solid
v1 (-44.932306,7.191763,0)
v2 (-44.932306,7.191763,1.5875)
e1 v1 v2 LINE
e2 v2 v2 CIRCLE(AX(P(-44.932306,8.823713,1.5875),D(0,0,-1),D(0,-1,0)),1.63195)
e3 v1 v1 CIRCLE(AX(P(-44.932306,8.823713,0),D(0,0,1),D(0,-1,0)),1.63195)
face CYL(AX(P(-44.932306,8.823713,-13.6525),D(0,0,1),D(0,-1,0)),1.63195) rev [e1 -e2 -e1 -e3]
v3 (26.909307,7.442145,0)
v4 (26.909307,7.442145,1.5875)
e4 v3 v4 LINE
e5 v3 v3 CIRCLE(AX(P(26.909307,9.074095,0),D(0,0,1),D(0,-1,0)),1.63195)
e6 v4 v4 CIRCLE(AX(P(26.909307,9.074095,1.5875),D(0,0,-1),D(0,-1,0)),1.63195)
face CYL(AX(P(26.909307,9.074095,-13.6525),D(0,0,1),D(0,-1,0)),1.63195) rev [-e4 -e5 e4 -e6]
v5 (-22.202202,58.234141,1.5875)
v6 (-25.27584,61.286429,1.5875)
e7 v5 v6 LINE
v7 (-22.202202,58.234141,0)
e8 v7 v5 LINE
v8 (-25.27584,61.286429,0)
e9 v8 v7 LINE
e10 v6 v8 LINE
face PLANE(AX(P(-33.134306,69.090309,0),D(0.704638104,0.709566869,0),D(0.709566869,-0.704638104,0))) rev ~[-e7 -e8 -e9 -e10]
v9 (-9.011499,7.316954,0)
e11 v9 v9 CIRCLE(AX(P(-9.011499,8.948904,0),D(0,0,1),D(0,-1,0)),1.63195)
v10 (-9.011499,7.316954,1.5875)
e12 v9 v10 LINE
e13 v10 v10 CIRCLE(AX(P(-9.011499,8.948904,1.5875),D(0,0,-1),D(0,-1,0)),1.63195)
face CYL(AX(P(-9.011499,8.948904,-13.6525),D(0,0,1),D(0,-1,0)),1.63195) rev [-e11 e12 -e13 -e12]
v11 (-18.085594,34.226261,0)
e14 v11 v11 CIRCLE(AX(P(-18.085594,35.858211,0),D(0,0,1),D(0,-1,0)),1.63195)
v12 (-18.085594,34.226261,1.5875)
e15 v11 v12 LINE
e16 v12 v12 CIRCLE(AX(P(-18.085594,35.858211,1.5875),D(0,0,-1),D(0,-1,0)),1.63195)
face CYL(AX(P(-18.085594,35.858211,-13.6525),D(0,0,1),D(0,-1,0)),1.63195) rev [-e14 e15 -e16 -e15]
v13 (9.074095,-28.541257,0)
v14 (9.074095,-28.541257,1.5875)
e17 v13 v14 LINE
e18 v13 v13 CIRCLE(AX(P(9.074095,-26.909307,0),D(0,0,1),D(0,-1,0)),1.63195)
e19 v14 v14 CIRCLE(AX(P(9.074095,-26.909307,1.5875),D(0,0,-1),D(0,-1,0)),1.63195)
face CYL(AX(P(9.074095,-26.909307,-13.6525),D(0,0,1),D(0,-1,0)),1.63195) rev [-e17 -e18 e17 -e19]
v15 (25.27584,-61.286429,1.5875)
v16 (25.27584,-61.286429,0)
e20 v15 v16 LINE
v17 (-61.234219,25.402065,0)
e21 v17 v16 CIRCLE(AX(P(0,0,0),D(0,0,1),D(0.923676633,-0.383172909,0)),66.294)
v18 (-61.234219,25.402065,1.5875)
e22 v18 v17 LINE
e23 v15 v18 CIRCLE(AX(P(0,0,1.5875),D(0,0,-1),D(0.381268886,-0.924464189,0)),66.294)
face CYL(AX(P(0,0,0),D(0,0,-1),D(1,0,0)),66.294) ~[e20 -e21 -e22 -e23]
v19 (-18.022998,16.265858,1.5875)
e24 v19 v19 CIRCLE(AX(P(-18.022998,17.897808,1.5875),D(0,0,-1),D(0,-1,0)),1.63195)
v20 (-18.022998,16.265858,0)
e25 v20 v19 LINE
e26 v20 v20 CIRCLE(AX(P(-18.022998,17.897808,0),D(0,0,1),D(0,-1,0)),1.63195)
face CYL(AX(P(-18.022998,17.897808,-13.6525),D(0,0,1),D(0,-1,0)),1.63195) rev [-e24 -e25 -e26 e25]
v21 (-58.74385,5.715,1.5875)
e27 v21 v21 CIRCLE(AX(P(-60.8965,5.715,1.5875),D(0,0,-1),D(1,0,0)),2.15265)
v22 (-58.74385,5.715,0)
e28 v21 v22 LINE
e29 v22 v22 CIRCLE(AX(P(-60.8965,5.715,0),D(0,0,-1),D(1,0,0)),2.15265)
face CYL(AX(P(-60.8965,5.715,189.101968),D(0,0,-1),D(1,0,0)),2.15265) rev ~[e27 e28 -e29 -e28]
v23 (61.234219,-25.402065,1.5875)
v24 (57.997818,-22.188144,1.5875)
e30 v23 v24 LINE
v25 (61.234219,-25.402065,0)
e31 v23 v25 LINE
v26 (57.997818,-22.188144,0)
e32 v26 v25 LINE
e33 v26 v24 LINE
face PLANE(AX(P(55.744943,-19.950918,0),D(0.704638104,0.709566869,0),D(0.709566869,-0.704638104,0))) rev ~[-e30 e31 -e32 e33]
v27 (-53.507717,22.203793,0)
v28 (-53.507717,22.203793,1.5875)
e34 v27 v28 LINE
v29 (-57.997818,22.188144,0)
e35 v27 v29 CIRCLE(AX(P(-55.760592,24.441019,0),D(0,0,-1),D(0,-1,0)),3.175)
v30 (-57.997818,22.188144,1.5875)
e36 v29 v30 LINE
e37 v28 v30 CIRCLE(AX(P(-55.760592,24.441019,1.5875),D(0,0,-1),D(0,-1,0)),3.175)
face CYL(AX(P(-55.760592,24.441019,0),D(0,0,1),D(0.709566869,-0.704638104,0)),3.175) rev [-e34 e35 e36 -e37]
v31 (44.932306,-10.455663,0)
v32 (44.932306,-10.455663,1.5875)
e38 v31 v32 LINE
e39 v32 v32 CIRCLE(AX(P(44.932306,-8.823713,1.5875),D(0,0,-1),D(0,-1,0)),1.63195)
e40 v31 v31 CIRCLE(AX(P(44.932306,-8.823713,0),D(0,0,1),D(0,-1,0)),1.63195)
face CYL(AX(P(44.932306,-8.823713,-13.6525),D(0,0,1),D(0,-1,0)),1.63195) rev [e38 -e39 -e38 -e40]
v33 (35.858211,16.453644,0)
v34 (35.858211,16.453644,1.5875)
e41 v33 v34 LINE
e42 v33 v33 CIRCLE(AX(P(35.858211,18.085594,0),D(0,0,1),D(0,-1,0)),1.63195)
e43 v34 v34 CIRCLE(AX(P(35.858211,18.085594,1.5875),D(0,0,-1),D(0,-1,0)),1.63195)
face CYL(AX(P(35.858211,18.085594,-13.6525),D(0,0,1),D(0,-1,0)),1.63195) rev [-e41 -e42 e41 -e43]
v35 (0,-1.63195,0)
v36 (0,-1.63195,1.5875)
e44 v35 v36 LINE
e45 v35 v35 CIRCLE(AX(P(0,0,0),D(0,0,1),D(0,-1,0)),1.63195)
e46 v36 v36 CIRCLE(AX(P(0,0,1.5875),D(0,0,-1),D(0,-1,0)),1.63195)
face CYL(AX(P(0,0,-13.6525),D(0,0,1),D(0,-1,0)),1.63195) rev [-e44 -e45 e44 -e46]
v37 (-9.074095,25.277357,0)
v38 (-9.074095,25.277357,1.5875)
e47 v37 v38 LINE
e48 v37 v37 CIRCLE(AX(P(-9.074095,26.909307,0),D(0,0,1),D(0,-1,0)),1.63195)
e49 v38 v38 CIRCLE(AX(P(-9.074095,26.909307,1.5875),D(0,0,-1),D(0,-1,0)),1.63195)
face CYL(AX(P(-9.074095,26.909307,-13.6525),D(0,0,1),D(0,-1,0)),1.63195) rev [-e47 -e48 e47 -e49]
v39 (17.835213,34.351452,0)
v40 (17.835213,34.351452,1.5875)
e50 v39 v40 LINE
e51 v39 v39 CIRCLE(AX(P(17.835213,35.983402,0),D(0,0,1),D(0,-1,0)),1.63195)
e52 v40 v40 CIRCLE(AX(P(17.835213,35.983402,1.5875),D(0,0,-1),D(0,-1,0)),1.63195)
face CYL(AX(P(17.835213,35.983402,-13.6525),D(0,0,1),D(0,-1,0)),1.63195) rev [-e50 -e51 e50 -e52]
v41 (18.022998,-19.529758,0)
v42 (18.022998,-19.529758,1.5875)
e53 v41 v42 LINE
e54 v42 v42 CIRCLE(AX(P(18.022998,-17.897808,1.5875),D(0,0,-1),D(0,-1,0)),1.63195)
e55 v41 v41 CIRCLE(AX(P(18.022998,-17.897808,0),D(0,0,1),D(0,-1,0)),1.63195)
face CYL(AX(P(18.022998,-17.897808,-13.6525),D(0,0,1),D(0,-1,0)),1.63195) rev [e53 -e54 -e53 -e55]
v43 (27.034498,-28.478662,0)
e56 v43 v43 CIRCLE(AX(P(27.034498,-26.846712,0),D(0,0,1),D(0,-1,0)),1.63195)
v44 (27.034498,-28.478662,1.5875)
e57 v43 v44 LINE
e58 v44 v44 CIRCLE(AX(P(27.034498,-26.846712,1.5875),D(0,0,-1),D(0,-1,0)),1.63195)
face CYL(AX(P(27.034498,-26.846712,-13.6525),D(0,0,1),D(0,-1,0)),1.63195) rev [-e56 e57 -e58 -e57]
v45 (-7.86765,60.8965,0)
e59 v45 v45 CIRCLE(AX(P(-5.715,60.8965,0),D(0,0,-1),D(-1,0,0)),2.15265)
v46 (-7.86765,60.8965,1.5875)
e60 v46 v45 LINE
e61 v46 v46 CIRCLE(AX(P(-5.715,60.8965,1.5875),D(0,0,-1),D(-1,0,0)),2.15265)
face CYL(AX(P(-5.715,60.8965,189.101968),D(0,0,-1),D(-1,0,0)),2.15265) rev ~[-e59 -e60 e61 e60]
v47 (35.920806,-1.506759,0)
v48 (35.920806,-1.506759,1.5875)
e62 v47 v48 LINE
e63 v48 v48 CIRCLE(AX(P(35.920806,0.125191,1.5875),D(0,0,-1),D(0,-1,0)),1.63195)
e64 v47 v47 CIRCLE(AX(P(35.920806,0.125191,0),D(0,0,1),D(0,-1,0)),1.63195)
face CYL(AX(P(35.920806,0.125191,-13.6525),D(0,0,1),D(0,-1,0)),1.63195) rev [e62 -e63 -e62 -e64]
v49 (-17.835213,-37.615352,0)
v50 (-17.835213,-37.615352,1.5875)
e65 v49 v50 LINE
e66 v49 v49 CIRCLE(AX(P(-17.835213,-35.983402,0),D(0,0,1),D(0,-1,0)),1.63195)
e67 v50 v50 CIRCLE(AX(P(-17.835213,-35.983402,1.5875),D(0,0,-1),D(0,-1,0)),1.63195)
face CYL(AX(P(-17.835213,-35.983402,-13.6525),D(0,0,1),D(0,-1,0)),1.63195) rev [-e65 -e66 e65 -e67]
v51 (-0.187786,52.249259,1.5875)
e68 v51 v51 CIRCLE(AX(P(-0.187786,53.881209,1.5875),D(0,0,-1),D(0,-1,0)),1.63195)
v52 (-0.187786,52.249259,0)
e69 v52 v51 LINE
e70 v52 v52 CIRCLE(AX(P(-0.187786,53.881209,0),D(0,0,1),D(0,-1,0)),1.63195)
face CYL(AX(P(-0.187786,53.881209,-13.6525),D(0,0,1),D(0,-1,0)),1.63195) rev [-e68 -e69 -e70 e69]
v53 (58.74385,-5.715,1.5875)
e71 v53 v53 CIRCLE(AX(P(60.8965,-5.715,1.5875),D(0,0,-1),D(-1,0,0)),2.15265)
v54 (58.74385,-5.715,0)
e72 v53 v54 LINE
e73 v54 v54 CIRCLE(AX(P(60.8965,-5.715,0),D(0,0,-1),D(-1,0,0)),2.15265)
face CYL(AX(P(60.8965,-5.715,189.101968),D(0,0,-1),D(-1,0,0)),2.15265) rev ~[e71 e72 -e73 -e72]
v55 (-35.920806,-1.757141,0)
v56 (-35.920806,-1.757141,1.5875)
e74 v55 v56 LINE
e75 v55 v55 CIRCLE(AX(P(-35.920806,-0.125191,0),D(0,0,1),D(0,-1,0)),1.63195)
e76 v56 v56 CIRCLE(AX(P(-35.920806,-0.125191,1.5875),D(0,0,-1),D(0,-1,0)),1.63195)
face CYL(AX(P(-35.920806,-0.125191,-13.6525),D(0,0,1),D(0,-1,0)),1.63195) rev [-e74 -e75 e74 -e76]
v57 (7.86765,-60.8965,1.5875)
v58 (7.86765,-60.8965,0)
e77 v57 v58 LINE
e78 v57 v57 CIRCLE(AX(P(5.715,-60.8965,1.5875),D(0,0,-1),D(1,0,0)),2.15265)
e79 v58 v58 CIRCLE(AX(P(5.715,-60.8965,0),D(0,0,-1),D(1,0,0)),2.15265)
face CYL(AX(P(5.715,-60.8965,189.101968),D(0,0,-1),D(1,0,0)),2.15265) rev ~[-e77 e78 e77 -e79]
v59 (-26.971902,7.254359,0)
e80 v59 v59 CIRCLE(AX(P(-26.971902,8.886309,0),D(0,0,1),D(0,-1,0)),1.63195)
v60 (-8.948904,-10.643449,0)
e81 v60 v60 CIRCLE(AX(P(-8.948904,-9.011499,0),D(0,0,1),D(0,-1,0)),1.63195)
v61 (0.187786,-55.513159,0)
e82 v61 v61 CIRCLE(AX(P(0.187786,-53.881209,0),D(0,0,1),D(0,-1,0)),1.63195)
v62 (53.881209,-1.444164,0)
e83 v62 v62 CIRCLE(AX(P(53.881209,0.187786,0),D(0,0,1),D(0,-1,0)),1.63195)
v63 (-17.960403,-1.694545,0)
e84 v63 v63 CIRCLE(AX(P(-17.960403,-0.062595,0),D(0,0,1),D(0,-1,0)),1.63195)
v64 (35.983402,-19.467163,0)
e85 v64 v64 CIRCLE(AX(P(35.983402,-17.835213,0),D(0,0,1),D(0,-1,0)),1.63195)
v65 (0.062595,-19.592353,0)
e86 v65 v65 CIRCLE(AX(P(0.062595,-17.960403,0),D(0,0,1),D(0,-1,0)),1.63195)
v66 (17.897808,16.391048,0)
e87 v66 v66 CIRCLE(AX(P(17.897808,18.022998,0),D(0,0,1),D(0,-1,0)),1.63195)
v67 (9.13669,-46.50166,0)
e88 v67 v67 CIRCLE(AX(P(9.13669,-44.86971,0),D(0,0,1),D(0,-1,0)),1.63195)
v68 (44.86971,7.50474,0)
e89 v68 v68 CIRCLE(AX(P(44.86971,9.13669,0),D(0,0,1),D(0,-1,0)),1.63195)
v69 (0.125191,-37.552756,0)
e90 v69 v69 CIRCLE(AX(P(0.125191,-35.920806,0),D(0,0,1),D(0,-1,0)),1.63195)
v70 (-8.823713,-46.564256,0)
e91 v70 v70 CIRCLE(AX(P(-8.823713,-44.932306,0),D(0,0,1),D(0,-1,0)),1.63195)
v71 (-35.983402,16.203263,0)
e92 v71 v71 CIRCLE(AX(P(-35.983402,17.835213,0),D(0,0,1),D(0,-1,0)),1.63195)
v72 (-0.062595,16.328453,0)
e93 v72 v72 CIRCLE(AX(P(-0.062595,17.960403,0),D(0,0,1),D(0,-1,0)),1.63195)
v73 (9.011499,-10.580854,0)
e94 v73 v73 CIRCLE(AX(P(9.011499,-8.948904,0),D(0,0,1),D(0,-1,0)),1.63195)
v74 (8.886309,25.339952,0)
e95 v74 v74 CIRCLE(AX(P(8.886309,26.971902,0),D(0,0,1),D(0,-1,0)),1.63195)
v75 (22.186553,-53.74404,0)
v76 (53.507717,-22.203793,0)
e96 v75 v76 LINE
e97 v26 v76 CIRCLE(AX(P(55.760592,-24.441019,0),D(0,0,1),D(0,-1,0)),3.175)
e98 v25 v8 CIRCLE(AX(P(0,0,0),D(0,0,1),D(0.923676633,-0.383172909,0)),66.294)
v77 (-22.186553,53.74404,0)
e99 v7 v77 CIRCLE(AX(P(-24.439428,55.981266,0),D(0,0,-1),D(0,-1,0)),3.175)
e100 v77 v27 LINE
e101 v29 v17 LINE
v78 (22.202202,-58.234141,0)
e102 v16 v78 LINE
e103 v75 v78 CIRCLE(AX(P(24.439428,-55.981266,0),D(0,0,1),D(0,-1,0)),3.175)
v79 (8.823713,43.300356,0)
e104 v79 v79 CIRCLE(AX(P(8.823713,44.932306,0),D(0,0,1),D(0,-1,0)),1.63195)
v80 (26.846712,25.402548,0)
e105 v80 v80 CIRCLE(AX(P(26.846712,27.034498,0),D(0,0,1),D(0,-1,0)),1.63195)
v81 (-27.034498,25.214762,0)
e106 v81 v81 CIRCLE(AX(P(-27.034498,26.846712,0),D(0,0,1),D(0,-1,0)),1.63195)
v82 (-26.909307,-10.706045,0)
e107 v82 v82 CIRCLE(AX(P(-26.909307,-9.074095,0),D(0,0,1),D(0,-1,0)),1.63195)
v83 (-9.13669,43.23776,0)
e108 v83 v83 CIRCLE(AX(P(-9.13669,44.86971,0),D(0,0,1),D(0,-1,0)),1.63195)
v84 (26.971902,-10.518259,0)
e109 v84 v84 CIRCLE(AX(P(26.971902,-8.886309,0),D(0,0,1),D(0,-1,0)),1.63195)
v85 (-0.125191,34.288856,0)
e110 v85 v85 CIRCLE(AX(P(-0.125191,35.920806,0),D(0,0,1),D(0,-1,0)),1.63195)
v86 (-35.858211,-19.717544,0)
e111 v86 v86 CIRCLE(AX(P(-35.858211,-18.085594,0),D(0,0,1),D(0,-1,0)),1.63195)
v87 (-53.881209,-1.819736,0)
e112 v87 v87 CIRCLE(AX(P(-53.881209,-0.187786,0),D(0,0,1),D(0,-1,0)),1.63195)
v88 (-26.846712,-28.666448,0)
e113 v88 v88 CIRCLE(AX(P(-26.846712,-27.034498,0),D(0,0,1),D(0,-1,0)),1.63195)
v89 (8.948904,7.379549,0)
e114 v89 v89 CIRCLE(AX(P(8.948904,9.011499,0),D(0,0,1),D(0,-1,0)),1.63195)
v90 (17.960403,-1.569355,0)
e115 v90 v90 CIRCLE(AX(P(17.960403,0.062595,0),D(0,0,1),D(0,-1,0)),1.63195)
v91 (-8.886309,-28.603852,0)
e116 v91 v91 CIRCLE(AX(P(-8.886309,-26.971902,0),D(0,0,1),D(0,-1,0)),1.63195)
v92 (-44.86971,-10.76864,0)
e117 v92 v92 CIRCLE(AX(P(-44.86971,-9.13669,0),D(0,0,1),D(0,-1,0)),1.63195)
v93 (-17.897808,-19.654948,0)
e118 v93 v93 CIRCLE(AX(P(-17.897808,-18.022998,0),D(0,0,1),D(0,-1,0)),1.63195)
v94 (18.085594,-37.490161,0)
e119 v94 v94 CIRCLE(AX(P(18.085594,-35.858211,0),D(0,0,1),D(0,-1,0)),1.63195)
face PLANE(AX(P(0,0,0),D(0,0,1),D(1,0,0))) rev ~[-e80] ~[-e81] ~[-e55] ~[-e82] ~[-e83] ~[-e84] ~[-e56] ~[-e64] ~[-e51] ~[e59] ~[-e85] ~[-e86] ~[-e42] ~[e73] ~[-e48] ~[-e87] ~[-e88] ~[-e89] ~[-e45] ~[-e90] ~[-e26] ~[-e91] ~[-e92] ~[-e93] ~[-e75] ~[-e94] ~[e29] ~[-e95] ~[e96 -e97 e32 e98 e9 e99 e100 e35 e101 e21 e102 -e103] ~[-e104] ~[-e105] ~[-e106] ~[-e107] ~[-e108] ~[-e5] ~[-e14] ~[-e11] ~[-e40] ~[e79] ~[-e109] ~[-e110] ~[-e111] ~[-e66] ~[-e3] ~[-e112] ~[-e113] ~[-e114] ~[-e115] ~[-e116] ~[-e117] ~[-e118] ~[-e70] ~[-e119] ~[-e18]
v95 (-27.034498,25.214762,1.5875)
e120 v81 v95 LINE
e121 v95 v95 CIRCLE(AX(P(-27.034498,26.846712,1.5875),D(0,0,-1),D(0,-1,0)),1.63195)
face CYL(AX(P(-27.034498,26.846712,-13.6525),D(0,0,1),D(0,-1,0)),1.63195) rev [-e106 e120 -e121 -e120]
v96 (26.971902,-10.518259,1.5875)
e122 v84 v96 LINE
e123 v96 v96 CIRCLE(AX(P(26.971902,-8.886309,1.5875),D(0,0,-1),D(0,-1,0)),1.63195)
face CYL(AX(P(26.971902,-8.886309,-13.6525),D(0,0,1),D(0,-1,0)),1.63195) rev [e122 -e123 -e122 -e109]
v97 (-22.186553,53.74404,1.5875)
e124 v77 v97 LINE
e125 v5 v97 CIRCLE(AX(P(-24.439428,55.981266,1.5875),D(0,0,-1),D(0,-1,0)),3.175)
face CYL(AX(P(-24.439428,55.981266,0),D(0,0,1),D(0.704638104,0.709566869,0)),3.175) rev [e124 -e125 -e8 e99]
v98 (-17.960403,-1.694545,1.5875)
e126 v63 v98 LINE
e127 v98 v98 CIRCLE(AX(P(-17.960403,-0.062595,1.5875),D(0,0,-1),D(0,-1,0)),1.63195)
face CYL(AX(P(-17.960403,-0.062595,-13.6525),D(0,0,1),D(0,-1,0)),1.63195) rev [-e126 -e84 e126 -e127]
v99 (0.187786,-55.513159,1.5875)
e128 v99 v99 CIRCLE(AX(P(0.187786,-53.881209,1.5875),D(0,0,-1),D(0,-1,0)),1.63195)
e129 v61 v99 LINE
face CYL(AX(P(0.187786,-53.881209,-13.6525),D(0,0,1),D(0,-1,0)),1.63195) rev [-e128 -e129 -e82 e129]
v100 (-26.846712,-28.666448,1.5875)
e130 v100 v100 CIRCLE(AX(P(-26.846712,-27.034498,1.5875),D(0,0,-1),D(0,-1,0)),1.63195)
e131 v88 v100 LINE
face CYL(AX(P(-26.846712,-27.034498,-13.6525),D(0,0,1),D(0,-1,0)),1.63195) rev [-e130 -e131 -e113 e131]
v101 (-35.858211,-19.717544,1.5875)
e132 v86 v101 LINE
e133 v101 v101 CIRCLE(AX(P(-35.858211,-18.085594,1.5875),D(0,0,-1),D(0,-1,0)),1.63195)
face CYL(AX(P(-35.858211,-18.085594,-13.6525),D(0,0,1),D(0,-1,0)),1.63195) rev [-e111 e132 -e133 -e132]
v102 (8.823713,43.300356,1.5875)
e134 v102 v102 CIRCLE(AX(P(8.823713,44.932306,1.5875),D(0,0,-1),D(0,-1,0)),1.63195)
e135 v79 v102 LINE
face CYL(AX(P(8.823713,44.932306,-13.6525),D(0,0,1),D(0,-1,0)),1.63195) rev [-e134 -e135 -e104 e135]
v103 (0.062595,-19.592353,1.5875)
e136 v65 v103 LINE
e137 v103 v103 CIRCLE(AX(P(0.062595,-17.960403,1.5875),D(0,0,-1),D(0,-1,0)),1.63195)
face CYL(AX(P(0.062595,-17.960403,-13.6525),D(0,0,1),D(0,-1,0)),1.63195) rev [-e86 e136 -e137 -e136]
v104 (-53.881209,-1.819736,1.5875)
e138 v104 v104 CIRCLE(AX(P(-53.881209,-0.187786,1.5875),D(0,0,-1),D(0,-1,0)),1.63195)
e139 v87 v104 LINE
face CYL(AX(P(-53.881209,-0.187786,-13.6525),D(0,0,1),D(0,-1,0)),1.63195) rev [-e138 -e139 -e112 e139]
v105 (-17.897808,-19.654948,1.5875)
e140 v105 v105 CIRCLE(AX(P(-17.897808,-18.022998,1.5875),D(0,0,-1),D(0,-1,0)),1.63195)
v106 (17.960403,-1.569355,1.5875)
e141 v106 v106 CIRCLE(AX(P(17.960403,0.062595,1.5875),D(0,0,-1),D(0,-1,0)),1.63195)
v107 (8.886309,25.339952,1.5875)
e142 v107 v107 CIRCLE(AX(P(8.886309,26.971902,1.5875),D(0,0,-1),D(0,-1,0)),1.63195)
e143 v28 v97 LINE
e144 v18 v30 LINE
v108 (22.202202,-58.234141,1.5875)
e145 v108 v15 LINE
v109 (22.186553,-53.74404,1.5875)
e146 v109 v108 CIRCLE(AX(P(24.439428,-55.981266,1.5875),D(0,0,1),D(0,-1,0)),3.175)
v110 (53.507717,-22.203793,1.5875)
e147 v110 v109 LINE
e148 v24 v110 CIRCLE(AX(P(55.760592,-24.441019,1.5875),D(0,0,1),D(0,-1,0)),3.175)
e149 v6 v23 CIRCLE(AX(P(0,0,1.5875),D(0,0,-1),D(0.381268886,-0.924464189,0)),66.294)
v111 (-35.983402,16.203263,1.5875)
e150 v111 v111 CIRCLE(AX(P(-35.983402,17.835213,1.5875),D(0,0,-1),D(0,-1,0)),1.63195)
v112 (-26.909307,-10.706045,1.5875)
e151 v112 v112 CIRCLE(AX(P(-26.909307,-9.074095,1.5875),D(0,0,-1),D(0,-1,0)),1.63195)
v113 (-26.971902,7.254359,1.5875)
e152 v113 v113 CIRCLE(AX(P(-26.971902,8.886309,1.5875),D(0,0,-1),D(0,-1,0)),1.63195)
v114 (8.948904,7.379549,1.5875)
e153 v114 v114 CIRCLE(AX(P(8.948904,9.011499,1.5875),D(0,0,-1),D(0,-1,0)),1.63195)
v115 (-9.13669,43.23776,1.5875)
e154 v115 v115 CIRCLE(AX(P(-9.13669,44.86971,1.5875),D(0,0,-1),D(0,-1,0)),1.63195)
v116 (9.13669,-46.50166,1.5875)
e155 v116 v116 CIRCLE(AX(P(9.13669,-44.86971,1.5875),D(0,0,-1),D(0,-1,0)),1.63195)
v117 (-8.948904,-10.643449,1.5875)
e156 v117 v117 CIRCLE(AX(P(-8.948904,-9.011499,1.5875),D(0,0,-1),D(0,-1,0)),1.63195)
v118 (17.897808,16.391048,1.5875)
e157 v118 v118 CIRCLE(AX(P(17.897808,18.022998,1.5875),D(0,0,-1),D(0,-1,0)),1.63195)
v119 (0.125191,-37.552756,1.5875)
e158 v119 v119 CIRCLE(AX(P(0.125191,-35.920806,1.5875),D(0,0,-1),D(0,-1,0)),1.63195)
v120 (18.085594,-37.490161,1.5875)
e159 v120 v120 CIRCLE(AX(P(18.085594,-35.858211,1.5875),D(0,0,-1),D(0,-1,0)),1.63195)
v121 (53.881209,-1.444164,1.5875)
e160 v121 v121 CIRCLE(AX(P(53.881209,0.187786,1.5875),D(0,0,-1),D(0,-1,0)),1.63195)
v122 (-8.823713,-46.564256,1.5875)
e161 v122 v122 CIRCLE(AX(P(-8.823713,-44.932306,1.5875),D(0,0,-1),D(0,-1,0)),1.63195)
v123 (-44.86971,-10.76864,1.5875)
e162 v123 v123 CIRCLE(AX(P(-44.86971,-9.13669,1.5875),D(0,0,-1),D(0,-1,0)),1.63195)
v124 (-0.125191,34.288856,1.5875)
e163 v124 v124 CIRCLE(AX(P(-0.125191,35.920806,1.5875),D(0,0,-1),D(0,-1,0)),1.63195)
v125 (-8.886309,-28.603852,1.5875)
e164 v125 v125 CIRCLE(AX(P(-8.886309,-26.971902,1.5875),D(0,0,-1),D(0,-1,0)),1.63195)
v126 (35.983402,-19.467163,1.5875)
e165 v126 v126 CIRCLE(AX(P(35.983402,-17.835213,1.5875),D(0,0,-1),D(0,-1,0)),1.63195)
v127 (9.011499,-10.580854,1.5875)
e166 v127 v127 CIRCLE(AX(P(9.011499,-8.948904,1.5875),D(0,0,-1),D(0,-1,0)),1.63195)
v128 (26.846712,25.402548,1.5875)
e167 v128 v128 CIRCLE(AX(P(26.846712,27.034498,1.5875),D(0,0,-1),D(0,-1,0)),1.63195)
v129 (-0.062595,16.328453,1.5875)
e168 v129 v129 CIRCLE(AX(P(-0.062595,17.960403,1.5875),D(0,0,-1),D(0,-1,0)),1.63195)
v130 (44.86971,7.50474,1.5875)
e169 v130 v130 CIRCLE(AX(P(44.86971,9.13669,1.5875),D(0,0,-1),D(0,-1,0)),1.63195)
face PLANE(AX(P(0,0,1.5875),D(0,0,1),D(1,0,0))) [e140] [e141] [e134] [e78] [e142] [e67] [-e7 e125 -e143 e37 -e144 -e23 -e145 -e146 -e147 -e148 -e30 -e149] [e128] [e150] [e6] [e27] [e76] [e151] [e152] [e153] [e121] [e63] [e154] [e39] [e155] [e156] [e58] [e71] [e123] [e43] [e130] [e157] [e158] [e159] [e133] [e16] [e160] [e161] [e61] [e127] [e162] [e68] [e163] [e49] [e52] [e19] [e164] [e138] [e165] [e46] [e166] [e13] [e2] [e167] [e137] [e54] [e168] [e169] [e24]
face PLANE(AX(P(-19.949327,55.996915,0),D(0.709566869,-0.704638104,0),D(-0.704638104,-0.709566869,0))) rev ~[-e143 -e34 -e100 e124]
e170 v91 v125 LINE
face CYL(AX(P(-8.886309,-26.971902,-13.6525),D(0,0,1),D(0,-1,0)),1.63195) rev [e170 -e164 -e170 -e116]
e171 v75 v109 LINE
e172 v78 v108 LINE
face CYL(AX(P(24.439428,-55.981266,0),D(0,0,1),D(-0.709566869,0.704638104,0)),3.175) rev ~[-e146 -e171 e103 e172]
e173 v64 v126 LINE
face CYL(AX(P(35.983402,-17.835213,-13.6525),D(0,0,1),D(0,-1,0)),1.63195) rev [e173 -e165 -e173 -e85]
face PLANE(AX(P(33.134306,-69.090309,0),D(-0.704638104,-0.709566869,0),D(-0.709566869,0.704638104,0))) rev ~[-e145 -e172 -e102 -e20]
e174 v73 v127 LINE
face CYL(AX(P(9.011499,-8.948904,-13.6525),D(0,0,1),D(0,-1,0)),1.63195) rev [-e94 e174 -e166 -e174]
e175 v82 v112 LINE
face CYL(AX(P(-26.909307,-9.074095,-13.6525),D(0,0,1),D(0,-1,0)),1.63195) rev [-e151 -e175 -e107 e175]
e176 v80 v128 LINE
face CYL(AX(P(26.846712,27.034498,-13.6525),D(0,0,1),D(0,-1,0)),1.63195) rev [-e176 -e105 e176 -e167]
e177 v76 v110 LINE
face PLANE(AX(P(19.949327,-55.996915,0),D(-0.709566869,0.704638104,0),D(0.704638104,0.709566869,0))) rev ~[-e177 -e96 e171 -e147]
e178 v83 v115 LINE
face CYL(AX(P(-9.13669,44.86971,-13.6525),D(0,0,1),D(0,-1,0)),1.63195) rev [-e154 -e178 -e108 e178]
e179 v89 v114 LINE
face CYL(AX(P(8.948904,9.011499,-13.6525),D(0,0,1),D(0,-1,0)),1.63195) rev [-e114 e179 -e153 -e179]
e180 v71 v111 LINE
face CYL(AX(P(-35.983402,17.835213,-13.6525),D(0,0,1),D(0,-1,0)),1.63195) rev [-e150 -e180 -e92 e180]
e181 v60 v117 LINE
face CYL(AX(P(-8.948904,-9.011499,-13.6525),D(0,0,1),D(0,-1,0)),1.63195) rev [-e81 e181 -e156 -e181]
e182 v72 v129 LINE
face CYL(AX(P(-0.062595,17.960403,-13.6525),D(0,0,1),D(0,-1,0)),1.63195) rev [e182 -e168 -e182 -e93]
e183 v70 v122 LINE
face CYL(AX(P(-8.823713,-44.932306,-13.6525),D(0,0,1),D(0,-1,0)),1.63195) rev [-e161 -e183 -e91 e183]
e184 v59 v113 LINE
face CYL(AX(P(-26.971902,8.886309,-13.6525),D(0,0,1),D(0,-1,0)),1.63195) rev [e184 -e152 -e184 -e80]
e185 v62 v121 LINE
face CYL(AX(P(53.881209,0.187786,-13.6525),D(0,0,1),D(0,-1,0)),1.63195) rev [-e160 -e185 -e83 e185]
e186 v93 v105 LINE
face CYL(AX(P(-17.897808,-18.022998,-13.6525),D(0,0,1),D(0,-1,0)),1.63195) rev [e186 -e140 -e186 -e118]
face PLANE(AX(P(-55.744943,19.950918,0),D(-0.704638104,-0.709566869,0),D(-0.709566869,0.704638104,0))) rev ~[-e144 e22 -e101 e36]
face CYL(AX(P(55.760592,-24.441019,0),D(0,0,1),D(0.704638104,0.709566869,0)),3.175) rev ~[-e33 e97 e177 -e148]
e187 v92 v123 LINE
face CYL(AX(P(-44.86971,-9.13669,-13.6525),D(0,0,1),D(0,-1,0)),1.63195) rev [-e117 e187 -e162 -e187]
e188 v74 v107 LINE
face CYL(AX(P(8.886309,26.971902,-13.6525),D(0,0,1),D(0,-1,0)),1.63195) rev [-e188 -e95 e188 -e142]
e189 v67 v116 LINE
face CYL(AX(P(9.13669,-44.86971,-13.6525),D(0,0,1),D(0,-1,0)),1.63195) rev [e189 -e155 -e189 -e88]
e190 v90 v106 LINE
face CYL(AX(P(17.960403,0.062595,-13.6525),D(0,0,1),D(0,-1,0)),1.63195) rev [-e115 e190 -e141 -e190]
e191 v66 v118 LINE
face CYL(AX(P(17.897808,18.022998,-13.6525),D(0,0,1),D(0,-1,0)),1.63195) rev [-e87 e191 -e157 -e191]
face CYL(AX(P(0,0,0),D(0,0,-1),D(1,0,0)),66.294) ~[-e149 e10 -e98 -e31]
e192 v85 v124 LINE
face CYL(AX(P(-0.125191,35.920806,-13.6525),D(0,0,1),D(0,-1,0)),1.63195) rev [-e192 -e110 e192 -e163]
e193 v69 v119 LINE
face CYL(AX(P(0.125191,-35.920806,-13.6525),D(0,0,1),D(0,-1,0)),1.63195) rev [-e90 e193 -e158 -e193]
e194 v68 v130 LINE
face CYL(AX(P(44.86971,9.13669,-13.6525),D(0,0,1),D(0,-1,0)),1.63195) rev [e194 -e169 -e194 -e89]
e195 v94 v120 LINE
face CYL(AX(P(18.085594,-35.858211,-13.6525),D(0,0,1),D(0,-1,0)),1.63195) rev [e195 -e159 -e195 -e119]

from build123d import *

# Parameters (mm, degrees)
SKETCH1_R             = 66.294
EXTRUDE1_DEPTH        = 1.5875
EXTRUDE3_DEPTH        = 94.767313219
CIRPATTERN4_COUNT     = 2
CIRPATTERN4_ANGLE     = 180
F_6_CLEARANCE_HOLE1_D = 4.3053
CIRPATTERN3_COUNT     = 2
CIRPATTERN3_ANGLE     = 180
LPATTERN1_COUNT       = 4
LPATTERN1_PITCH       = 12.7
LPATTERN1_COL_COUNT   = 4
LPATTERN1_COL_PITCH   = 12.7
LPATTERN2_COUNT       = 4
LPATTERN2_PITCH       = 12.7
LPATTERN2_COL_COUNT   = 4
LPATTERN2_COL_PITCH   = 12.7
FILLET1_R             = 3.175


with BuildPart() as part:
    # Sketch1 → Extrude1 (new body)
    with BuildSketch(Plane.XY):
        Circle(SKETCH1_R)
    extrude(amount=EXTRUDE1_DEPTH)

    # Sketch11 → Extrude3 (cut, through all)
    with BuildSketch(Plane(origin=(0, 0, 0), x_dir=(-1, 0, 0), z_dir=(0, 0, -1))):
        Polygon((-55.744942807, -19.950918323), (-68.929921306, -33.044311857), (-33.1343056, -69.090308809), (-19.949327102, -55.996915275), align=None)
    extrude3 = extrude(amount=-EXTRUDE3_DEPTH, mode=Mode.SUBTRACT)

    # CirPattern4: Extrude3 ×2 about axis
    cirpattern4_axis = Axis((0, 0, 0), (0, 0, 1))
    for i in range(1, CIRPATTERN4_COUNT):
        add(extrude3.rotate(cirpattern4_axis, i * CIRPATTERN4_ANGLE / (CIRPATTERN4_COUNT - 1)), mode=Mode.SUBTRACT)

    # #6 Clearance Hole1 (through all)
    with Locations(Plane(origin=(-5.715, 60.8965, 1.5875), x_dir=(1, 0, 0), z_dir=(0, 0, 1))):
        with Locations((0, 0), (66.6115, -66.6115)):
            f_6_clearance_hole1 = Hole(F_6_CLEARANCE_HOLE1_D / 2)

    # CirPattern3: #6 Clearance Hole1 ×2 about axis
    cirpattern3_axis = Axis((0, 0, 0), (0, 0, 1))
    for i in range(1, CIRPATTERN3_COUNT):
        add(f_6_clearance_hole1.rotate(cirpattern3_axis, i * CIRPATTERN3_ANGLE / (CIRPATTERN3_COUNT - 1)), mode=Mode.SUBTRACT)

    # Sketch13 → #4 Clearance Hole1 (revolve, cut)
    with BuildSketch(Plane(origin=(0, 0, 1.5875), x_dir=(0, -1, 0), z_dir=(1, 0, 0))):
        Polygon((0, 0), (0, 16.220574487), (1.63195, 15.24), (1.63195, 0), align=None)
    f_4_clearance_hole1 = revolve(axis=Axis((0, 0, 7.9375), (0, 0, -1)), mode=Mode.SUBTRACT)

    # LPattern1: #4 Clearance Hole1 ×4
    with Locations(*[Vector(0.7046381044424681, 0.709566869130546, 0) * (i * LPATTERN1_PITCH) for i in range(1, LPATTERN1_COUNT)]):
        add(f_4_clearance_hole1, mode=Mode.SUBTRACT)

    # LPattern1 col: #4 Clearance Hole1 ×4
    with Locations(*[Vector(-0.7046381044424681, -0.709566869130546, 0) * (i * LPATTERN1_COL_PITCH) for i in range(1, LPATTERN1_COL_COUNT)]):
        add(f_4_clearance_hole1, mode=Mode.SUBTRACT)

    # LPattern2: #4 Clearance Hole1 ×4
    with Locations(*[Vector(-0.709566869130546, 0.7046381044424682, 0) * (i * LPATTERN2_PITCH) for i in range(1, LPATTERN2_COUNT)]):
        add(f_4_clearance_hole1, mode=Mode.SUBTRACT)

    # LPattern2 copy 1 sketch → LPattern2 copy 1 (revolve, cut)
    with BuildSketch(Plane(origin=(-0.062595312, 17.960403164, 1.5875), x_dir=(0, -1, 0), z_dir=(1, 0, 0))):
        Polygon((0, 0), (0, 16.220574487), (1.63195, 15.24), (1.63195, 0), align=None)
    revolve(axis=Axis((-0.062595312, 17.960403164, 7.9375), (0, 0, -1)), mode=Mode.SUBTRACT)

    # LPattern2 copy 2 sketch → LPattern2 copy 2 (revolve, cut)
    with BuildSketch(Plane(origin=(-9.074094549, 26.909307091, 1.5875), x_dir=(0, -1, 0), z_dir=(1, 0, 0))):
        Polygon((0, 0), (0, 16.220574487), (1.63195, 15.24), (1.63195, 0), align=None)
    revolve(axis=Axis((-9.074094549, 26.909307091, 7.9375), (0, 0, -1)), mode=Mode.SUBTRACT)

    # LPattern2 copy 3 sketch → LPattern2 copy 3 (revolve, cut)
    with BuildSketch(Plane(origin=(-18.085593787, 35.858211017, 1.5875), x_dir=(0, -1, 0), z_dir=(1, 0, 0))):
        Polygon((0, 0), (0, 16.220574487), (1.63195, 15.24), (1.63195, 0), align=None)
    revolve(axis=Axis((-18.085593787, 35.858211017, 7.9375), (0, 0, -1)), mode=Mode.SUBTRACT)

    # LPattern2 copy 4 sketch → LPattern2 copy 4 (revolve, cut)
    with BuildSketch(Plane(origin=(8.886308615, 26.971902402, 1.5875), x_dir=(0, -1, 0), z_dir=(1, 0, 0))):
        Polygon((0, 0), (0, 16.220574487), (1.63195, 15.24), (1.63195, 0), align=None)
    revolve(axis=Axis((8.886308615, 26.971902402, 7.9375), (0, 0, -1)), mode=Mode.SUBTRACT)

    # LPattern2 copy 5 sketch → LPattern2 copy 5 (revolve, cut)
    with BuildSketch(Plane(origin=(-0.125190623, 35.920806329, 1.5875), x_dir=(0, -1, 0), z_dir=(1, 0, 0))):
        Polygon((0, 0), (0, 16.220574487), (1.63195, 15.24), (1.63195, 0), align=None)
    revolve(axis=Axis((-0.125190623, 35.920806329, 7.9375), (0, 0, -1)), mode=Mode.SUBTRACT)

    # LPattern2 copy 6 sketch → LPattern2 copy 6 (revolve, cut)
    with BuildSketch(Plane(origin=(-9.136689861, 44.869710255, 1.5875), x_dir=(0, -1, 0), z_dir=(1, 0, 0))):
        Polygon((0, 0), (0, 16.220574487), (1.63195, 15.24), (1.63195, 0), align=None)
    revolve(axis=Axis((-9.136689861, 44.869710255, 7.9375), (0, 0, -1)), mode=Mode.SUBTRACT)

    # LPattern2 copy 7 sketch → LPattern2 copy 7 (revolve, cut)
    with BuildSketch(Plane(origin=(17.835212541, 35.98340164, 1.5875), x_dir=(0, -1, 0), z_dir=(1, 0, 0))):
        Polygon((0, 0), (0, 16.220574487), (1.63195, 15.24), (1.63195, 0), align=None)
    revolve(axis=Axis((17.835212541, 35.98340164, 7.9375), (0, 0, -1)), mode=Mode.SUBTRACT)

    # LPattern2 copy 8 sketch → LPattern2 copy 8 (revolve, cut)
    with BuildSketch(Plane(origin=(8.823713303, 44.932305567, 1.5875), x_dir=(0, -1, 0), z_dir=(1, 0, 0))):
        Polygon((0, 0), (0, 16.220574487), (1.63195, 15.24), (1.63195, 0), align=None)
    revolve(axis=Axis((8.823713303, 44.932305567, 7.9375), (0, 0, -1)), mode=Mode.SUBTRACT)

    # LPattern2 copy 9 sketch → LPattern2 copy 9 (revolve, cut)
    with BuildSketch(Plane(origin=(-0.187785935, 53.881209493, 1.5875), x_dir=(0, -1, 0), z_dir=(1, 0, 0))):
        Polygon((0, 0), (0, 16.220574487), (1.63195, 15.24), (1.63195, 0), align=None)
    revolve(axis=Axis((-0.187785935, 53.881209493, 7.9375), (0, 0, -1)), mode=Mode.SUBTRACT)

    # LPattern2 copy 10 sketch → LPattern2 copy 10 (revolve, cut)
    with BuildSketch(Plane(origin=(-17.960403164, -0.062595312, 1.5875), x_dir=(0, -1, 0), z_dir=(1, 0, 0))):
        Polygon((0, 0), (0, 16.220574487), (1.63195, 15.24), (1.63195, 0), align=None)
    revolve(axis=Axis((-17.960403164, -0.062595312, 7.9375), (0, 0, -1)), mode=Mode.SUBTRACT)

    # LPattern2 copy 11 sketch → LPattern2 copy 11 (revolve, cut)
    with BuildSketch(Plane(origin=(-26.971902402, 8.886308615, 1.5875), x_dir=(0, -1, 0), z_dir=(1, 0, 0))):
        Polygon((0, 0), (0, 16.220574487), (1.63195, 15.24), (1.63195, 0), align=None)
    revolve(axis=Axis((-26.971902402, 8.886308615, 7.9375), (0, 0, -1)), mode=Mode.SUBTRACT)

    # LPattern2 copy 12 sketch → LPattern2 copy 12 (revolve, cut)
    with BuildSketch(Plane(origin=(-35.98340164, 17.835212541, 1.5875), x_dir=(0, -1, 0), z_dir=(1, 0, 0))):
        Polygon((0, 0), (0, 16.220574487), (1.63195, 15.24), (1.63195, 0), align=None)
    revolve(axis=Axis((-35.98340164, 17.835212541, 7.9375), (0, 0, -1)), mode=Mode.SUBTRACT)

    # LPattern2 copy 13 sketch → LPattern2 copy 13 (revolve, cut)
    with BuildSketch(Plane(origin=(-26.909307091, -9.074094549, 1.5875), x_dir=(0, -1, 0), z_dir=(1, 0, 0))):
        Polygon((0, 0), (0, 16.220574487), (1.63195, 15.24), (1.63195, 0), align=None)
    revolve(axis=Axis((-26.909307091, -9.074094549, 7.9375), (0, 0, -1)), mode=Mode.SUBTRACT)

    # LPattern2 copy 14 sketch → LPattern2 copy 14 (revolve, cut)
    with BuildSketch(Plane(origin=(-35.920806329, -0.125190623, 1.5875), x_dir=(0, -1, 0), z_dir=(1, 0, 0))):
        Polygon((0, 0), (0, 16.220574487), (1.63195, 15.24), (1.63195, 0), align=None)
    revolve(axis=Axis((-35.920806329, -0.125190623, 7.9375), (0, 0, -1)), mode=Mode.SUBTRACT)

    # LPattern2 copy 15 sketch → LPattern2 copy 15 (revolve, cut)
    with BuildSketch(Plane(origin=(-44.932305567, 8.823713303, 1.5875), x_dir=(0, -1, 0), z_dir=(1, 0, 0))):
        Polygon((0, 0), (0, 16.220574487), (1.63195, 15.24), (1.63195, 0), align=None)
    revolve(axis=Axis((-44.932305567, 8.823713303, 7.9375), (0, 0, -1)), mode=Mode.SUBTRACT)

    # LPattern2 copy 16 sketch → LPattern2 copy 16 (revolve, cut)
    with BuildSketch(Plane(origin=(-35.858211017, -18.085593787, 1.5875), x_dir=(0, -1, 0), z_dir=(1, 0, 0))):
        Polygon((0, 0), (0, 16.220574487), (1.63195, 15.24), (1.63195, 0), align=None)
    revolve(axis=Axis((-35.858211017, -18.085593787, 7.9375), (0, 0, -1)), mode=Mode.SUBTRACT)

    # LPattern2 copy 17 sketch → LPattern2 copy 17 (revolve, cut)
    with BuildSketch(Plane(origin=(-44.869710255, -9.136689861, 1.5875), x_dir=(0, -1, 0), z_dir=(1, 0, 0))):
        Polygon((0, 0), (0, 16.220574487), (1.63195, 15.24), (1.63195, 0), align=None)
    revolve(axis=Axis((-44.869710255, -9.136689861, 7.9375), (0, 0, -1)), mode=Mode.SUBTRACT)

    # LPattern2 copy 18 sketch → LPattern2 copy 18 (revolve, cut)
    with BuildSketch(Plane(origin=(-53.881209493, -0.187785935, 1.5875), x_dir=(0, -1, 0), z_dir=(1, 0, 0))):
        Polygon((0, 0), (0, 16.220574487), (1.63195, 15.24), (1.63195, 0), align=None)
    revolve(axis=Axis((-53.881209493, -0.187785935, 7.9375), (0, 0, -1)), mode=Mode.SUBTRACT)

    # LPattern2 col: #4 Clearance Hole1 ×4
    with Locations(*[Vector(0.7095668691305516, -0.7046381044424626, 0) * (i * LPATTERN2_COL_PITCH) for i in range(1, LPATTERN2_COL_COUNT)]):
        add(f_4_clearance_hole1, mode=Mode.SUBTRACT)

    # LPattern2 col copy 1 sketch → LPattern2 col copy 1 (revolve, cut)
    with BuildSketch(Plane(origin=(17.960403164, 0.062595312, 1.5875), x_dir=(0, -1, 0), z_dir=(1, 0, 0))):
        Polygon((0, 0), (0, 16.220574487), (1.63195, 15.24), (1.63195, 0), align=None)
    revolve(axis=Axis((17.960403164, 0.062595312, 7.9375), (0, 0, -1)), mode=Mode.SUBTRACT)

    # LPattern2 col copy 2 sketch → LPattern2 col copy 2 (revolve, cut)
    with BuildSketch(Plane(origin=(26.971902402, -8.886308615, 1.5875), x_dir=(0, -1, 0), z_dir=(1, 0, 0))):
        Polygon((0, 0), (0, 16.220574487), (1.63195, 15.24), (1.63195, 0), align=None)
    revolve(axis=Axis((26.971902402, -8.886308615, 7.9375), (0, 0, -1)), mode=Mode.SUBTRACT)

    # LPattern2 col copy 3 sketch → LPattern2 col copy 3 (revolve, cut)
    with BuildSketch(Plane(origin=(35.98340164, -17.835212541, 1.5875), x_dir=(0, -1, 0), z_dir=(1, 0, 0))):
        Polygon((0, 0), (0, 16.220574487), (1.63195, 15.24), (1.63195, 0), align=None)
    revolve(axis=Axis((35.98340164, -17.835212541, 7.9375), (0, 0, -1)), mode=Mode.SUBTRACT)

    # LPattern2 col copy 4 sketch → LPattern2 col copy 4 (revolve, cut)
    with BuildSketch(Plane(origin=(26.909307091, 9.074094549, 1.5875), x_dir=(0, -1, 0), z_dir=(1, 0, 0))):
        Polygon((0, 0), (0, 16.220574487), (1.63195, 15.24), (1.63195, 0), align=None)
    revolve(axis=Axis((26.909307091, 9.074094549, 7.9375), (0, 0, -1)), mode=Mode.SUBTRACT)

    # LPattern2 col copy 5 sketch → LPattern2 col copy 5 (revolve, cut)
    with BuildSketch(Plane(origin=(35.920806329, 0.125190623, 1.5875), x_dir=(0, -1, 0), z_dir=(1, 0, 0))):
        Polygon((0, 0), (0, 16.220574487), (1.63195, 15.24), (1.63195, 0), align=None)
    revolve(axis=Axis((35.920806329, 0.125190623, 7.9375), (0, 0, -1)), mode=Mode.SUBTRACT)

    # LPattern2 col copy 6 sketch → LPattern2 col copy 6 (revolve, cut)
    with BuildSketch(Plane(origin=(44.932305567, -8.823713303, 1.5875), x_dir=(0, -1, 0), z_dir=(1, 0, 0))):
        Polygon((0, 0), (0, 16.220574487), (1.63195, 15.24), (1.63195, 0), align=None)
    revolve(axis=Axis((44.932305567, -8.823713303, 7.9375), (0, 0, -1)), mode=Mode.SUBTRACT)

    # LPattern2 col copy 7 sketch → LPattern2 col copy 7 (revolve, cut)
    with BuildSketch(Plane(origin=(35.858211017, 18.085593787, 1.5875), x_dir=(0, -1, 0), z_dir=(1, 0, 0))):
        Polygon((0, 0), (0, 16.220574487), (1.63195, 15.24), (1.63195, 0), align=None)
    revolve(axis=Axis((35.858211017, 18.085593787, 7.9375), (0, 0, -1)), mode=Mode.SUBTRACT)

    # LPattern2 col copy 8 sketch → LPattern2 col copy 8 (revolve, cut)
    with BuildSketch(Plane(origin=(44.869710255, 9.136689861, 1.5875), x_dir=(0, -1, 0), z_dir=(1, 0, 0))):
        Polygon((0, 0), (0, 16.220574487), (1.63195, 15.24), (1.63195, 0), align=None)
    revolve(axis=Axis((44.869710255, 9.136689861, 7.9375), (0, 0, -1)), mode=Mode.SUBTRACT)

    # LPattern2 col copy 9 sketch → LPattern2 col copy 9 (revolve, cut)
    with BuildSketch(Plane(origin=(53.881209493, 0.187785935, 1.5875), x_dir=(0, -1, 0), z_dir=(1, 0, 0))):
        Polygon((0, 0), (0, 16.220574487), (1.63195, 15.24), (1.63195, 0), align=None)
    revolve(axis=Axis((53.881209493, 0.187785935, 7.9375), (0, 0, -1)), mode=Mode.SUBTRACT)

    # LPattern2 col copy 10 sketch → LPattern2 col copy 10 (revolve, cut)
    with BuildSketch(Plane(origin=(0.062595312, -17.960403164, 1.5875), x_dir=(0, -1, 0), z_dir=(1, 0, 0))):
        Polygon((0, 0), (0, 16.220574487), (1.63195, 15.24), (1.63195, 0), align=None)
    revolve(axis=Axis((0.062595312, -17.960403164, 7.9375), (0, 0, -1)), mode=Mode.SUBTRACT)

    # LPattern2 col copy 11 sketch → LPattern2 col copy 11 (revolve, cut)
    with BuildSketch(Plane(origin=(9.074094549, -26.909307091, 1.5875), x_dir=(0, -1, 0), z_dir=(1, 0, 0))):
        Polygon((0, 0), (0, 16.220574487), (1.63195, 15.24), (1.63195, 0), align=None)
    revolve(axis=Axis((9.074094549, -26.909307091, 7.9375), (0, 0, -1)), mode=Mode.SUBTRACT)

    # LPattern2 col copy 12 sketch → LPattern2 col copy 12 (revolve, cut)
    with BuildSketch(Plane(origin=(18.085593787, -35.858211017, 1.5875), x_dir=(0, -1, 0), z_dir=(1, 0, 0))):
        Polygon((0, 0), (0, 16.220574487), (1.63195, 15.24), (1.63195, 0), align=None)
    revolve(axis=Axis((18.085593787, -35.858211017, 7.9375), (0, 0, -1)), mode=Mode.SUBTRACT)

    # LPattern2 col copy 13 sketch → LPattern2 col copy 13 (revolve, cut)
    with BuildSketch(Plane(origin=(-8.886308615, -26.971902402, 1.5875), x_dir=(0, -1, 0), z_dir=(1, 0, 0))):
        Polygon((0, 0), (0, 16.220574487), (1.63195, 15.24), (1.63195, 0), align=None)
    revolve(axis=Axis((-8.886308615, -26.971902402, 7.9375), (0, 0, -1)), mode=Mode.SUBTRACT)

    # LPattern2 col copy 14 sketch → LPattern2 col copy 14 (revolve, cut)
    with BuildSketch(Plane(origin=(0.125190623, -35.920806329, 1.5875), x_dir=(0, -1, 0), z_dir=(1, 0, 0))):
        Polygon((0, 0), (0, 16.220574487), (1.63195, 15.24), (1.63195, 0), align=None)
    revolve(axis=Axis((0.125190623, -35.920806329, 7.9375), (0, 0, -1)), mode=Mode.SUBTRACT)

    # LPattern2 col copy 15 sketch → LPattern2 col copy 15 (revolve, cut)
    with BuildSketch(Plane(origin=(9.136689861, -44.869710255, 1.5875), x_dir=(0, -1, 0), z_dir=(1, 0, 0))):
        Polygon((0, 0), (0, 16.220574487), (1.63195, 15.24), (1.63195, 0), align=None)
    revolve(axis=Axis((9.136689861, -44.869710255, 7.9375), (0, 0, -1)), mode=Mode.SUBTRACT)

    # LPattern2 col copy 16 sketch → LPattern2 col copy 16 (revolve, cut)
    with BuildSketch(Plane(origin=(-17.835212541, -35.98340164, 1.5875), x_dir=(0, -1, 0), z_dir=(1, 0, 0))):
        Polygon((0, 0), (0, 16.220574487), (1.63195, 15.24), (1.63195, 0), align=None)
    revolve(axis=Axis((-17.835212541, -35.98340164, 7.9375), (0, 0, -1)), mode=Mode.SUBTRACT)

    # LPattern2 col copy 17 sketch → LPattern2 col copy 17 (revolve, cut)
    with BuildSketch(Plane(origin=(-8.823713303, -44.932305567, 1.5875), x_dir=(0, -1, 0), z_dir=(1, 0, 0))):
        Polygon((0, 0), (0, 16.220574487), (1.63195, 15.24), (1.63195, 0), align=None)
    revolve(axis=Axis((-8.823713303, -44.932305567, 7.9375), (0, 0, -1)), mode=Mode.SUBTRACT)

    # LPattern2 col copy 18 sketch → LPattern2 col copy 18 (revolve, cut)
    with BuildSketch(Plane(origin=(0.187785935, -53.881209493, 1.5875), x_dir=(0, -1, 0), z_dir=(1, 0, 0))):
        Polygon((0, 0), (0, 16.220574487), (1.63195, 15.24), (1.63195, 0), align=None)
    revolve(axis=Axis((0.187785935, -53.881209493, 7.9375), (0, 0, -1)), mode=Mode.SUBTRACT)

    # Fillet1
    fillet1_edges = [part.edges().sort_by_distance(p)[0] for p in [
        (19.949327102, -55.996915275, 0.79375),
        (55.744942807, -19.950918323, 0.79375),
        (-19.949327102, 55.996915275, 0.79375),
        (-55.744942807, 19.950918323, 0.79375),
    ]]
    fillet(fillet1_edges, radius=FILLET1_R)


solid = part.part
